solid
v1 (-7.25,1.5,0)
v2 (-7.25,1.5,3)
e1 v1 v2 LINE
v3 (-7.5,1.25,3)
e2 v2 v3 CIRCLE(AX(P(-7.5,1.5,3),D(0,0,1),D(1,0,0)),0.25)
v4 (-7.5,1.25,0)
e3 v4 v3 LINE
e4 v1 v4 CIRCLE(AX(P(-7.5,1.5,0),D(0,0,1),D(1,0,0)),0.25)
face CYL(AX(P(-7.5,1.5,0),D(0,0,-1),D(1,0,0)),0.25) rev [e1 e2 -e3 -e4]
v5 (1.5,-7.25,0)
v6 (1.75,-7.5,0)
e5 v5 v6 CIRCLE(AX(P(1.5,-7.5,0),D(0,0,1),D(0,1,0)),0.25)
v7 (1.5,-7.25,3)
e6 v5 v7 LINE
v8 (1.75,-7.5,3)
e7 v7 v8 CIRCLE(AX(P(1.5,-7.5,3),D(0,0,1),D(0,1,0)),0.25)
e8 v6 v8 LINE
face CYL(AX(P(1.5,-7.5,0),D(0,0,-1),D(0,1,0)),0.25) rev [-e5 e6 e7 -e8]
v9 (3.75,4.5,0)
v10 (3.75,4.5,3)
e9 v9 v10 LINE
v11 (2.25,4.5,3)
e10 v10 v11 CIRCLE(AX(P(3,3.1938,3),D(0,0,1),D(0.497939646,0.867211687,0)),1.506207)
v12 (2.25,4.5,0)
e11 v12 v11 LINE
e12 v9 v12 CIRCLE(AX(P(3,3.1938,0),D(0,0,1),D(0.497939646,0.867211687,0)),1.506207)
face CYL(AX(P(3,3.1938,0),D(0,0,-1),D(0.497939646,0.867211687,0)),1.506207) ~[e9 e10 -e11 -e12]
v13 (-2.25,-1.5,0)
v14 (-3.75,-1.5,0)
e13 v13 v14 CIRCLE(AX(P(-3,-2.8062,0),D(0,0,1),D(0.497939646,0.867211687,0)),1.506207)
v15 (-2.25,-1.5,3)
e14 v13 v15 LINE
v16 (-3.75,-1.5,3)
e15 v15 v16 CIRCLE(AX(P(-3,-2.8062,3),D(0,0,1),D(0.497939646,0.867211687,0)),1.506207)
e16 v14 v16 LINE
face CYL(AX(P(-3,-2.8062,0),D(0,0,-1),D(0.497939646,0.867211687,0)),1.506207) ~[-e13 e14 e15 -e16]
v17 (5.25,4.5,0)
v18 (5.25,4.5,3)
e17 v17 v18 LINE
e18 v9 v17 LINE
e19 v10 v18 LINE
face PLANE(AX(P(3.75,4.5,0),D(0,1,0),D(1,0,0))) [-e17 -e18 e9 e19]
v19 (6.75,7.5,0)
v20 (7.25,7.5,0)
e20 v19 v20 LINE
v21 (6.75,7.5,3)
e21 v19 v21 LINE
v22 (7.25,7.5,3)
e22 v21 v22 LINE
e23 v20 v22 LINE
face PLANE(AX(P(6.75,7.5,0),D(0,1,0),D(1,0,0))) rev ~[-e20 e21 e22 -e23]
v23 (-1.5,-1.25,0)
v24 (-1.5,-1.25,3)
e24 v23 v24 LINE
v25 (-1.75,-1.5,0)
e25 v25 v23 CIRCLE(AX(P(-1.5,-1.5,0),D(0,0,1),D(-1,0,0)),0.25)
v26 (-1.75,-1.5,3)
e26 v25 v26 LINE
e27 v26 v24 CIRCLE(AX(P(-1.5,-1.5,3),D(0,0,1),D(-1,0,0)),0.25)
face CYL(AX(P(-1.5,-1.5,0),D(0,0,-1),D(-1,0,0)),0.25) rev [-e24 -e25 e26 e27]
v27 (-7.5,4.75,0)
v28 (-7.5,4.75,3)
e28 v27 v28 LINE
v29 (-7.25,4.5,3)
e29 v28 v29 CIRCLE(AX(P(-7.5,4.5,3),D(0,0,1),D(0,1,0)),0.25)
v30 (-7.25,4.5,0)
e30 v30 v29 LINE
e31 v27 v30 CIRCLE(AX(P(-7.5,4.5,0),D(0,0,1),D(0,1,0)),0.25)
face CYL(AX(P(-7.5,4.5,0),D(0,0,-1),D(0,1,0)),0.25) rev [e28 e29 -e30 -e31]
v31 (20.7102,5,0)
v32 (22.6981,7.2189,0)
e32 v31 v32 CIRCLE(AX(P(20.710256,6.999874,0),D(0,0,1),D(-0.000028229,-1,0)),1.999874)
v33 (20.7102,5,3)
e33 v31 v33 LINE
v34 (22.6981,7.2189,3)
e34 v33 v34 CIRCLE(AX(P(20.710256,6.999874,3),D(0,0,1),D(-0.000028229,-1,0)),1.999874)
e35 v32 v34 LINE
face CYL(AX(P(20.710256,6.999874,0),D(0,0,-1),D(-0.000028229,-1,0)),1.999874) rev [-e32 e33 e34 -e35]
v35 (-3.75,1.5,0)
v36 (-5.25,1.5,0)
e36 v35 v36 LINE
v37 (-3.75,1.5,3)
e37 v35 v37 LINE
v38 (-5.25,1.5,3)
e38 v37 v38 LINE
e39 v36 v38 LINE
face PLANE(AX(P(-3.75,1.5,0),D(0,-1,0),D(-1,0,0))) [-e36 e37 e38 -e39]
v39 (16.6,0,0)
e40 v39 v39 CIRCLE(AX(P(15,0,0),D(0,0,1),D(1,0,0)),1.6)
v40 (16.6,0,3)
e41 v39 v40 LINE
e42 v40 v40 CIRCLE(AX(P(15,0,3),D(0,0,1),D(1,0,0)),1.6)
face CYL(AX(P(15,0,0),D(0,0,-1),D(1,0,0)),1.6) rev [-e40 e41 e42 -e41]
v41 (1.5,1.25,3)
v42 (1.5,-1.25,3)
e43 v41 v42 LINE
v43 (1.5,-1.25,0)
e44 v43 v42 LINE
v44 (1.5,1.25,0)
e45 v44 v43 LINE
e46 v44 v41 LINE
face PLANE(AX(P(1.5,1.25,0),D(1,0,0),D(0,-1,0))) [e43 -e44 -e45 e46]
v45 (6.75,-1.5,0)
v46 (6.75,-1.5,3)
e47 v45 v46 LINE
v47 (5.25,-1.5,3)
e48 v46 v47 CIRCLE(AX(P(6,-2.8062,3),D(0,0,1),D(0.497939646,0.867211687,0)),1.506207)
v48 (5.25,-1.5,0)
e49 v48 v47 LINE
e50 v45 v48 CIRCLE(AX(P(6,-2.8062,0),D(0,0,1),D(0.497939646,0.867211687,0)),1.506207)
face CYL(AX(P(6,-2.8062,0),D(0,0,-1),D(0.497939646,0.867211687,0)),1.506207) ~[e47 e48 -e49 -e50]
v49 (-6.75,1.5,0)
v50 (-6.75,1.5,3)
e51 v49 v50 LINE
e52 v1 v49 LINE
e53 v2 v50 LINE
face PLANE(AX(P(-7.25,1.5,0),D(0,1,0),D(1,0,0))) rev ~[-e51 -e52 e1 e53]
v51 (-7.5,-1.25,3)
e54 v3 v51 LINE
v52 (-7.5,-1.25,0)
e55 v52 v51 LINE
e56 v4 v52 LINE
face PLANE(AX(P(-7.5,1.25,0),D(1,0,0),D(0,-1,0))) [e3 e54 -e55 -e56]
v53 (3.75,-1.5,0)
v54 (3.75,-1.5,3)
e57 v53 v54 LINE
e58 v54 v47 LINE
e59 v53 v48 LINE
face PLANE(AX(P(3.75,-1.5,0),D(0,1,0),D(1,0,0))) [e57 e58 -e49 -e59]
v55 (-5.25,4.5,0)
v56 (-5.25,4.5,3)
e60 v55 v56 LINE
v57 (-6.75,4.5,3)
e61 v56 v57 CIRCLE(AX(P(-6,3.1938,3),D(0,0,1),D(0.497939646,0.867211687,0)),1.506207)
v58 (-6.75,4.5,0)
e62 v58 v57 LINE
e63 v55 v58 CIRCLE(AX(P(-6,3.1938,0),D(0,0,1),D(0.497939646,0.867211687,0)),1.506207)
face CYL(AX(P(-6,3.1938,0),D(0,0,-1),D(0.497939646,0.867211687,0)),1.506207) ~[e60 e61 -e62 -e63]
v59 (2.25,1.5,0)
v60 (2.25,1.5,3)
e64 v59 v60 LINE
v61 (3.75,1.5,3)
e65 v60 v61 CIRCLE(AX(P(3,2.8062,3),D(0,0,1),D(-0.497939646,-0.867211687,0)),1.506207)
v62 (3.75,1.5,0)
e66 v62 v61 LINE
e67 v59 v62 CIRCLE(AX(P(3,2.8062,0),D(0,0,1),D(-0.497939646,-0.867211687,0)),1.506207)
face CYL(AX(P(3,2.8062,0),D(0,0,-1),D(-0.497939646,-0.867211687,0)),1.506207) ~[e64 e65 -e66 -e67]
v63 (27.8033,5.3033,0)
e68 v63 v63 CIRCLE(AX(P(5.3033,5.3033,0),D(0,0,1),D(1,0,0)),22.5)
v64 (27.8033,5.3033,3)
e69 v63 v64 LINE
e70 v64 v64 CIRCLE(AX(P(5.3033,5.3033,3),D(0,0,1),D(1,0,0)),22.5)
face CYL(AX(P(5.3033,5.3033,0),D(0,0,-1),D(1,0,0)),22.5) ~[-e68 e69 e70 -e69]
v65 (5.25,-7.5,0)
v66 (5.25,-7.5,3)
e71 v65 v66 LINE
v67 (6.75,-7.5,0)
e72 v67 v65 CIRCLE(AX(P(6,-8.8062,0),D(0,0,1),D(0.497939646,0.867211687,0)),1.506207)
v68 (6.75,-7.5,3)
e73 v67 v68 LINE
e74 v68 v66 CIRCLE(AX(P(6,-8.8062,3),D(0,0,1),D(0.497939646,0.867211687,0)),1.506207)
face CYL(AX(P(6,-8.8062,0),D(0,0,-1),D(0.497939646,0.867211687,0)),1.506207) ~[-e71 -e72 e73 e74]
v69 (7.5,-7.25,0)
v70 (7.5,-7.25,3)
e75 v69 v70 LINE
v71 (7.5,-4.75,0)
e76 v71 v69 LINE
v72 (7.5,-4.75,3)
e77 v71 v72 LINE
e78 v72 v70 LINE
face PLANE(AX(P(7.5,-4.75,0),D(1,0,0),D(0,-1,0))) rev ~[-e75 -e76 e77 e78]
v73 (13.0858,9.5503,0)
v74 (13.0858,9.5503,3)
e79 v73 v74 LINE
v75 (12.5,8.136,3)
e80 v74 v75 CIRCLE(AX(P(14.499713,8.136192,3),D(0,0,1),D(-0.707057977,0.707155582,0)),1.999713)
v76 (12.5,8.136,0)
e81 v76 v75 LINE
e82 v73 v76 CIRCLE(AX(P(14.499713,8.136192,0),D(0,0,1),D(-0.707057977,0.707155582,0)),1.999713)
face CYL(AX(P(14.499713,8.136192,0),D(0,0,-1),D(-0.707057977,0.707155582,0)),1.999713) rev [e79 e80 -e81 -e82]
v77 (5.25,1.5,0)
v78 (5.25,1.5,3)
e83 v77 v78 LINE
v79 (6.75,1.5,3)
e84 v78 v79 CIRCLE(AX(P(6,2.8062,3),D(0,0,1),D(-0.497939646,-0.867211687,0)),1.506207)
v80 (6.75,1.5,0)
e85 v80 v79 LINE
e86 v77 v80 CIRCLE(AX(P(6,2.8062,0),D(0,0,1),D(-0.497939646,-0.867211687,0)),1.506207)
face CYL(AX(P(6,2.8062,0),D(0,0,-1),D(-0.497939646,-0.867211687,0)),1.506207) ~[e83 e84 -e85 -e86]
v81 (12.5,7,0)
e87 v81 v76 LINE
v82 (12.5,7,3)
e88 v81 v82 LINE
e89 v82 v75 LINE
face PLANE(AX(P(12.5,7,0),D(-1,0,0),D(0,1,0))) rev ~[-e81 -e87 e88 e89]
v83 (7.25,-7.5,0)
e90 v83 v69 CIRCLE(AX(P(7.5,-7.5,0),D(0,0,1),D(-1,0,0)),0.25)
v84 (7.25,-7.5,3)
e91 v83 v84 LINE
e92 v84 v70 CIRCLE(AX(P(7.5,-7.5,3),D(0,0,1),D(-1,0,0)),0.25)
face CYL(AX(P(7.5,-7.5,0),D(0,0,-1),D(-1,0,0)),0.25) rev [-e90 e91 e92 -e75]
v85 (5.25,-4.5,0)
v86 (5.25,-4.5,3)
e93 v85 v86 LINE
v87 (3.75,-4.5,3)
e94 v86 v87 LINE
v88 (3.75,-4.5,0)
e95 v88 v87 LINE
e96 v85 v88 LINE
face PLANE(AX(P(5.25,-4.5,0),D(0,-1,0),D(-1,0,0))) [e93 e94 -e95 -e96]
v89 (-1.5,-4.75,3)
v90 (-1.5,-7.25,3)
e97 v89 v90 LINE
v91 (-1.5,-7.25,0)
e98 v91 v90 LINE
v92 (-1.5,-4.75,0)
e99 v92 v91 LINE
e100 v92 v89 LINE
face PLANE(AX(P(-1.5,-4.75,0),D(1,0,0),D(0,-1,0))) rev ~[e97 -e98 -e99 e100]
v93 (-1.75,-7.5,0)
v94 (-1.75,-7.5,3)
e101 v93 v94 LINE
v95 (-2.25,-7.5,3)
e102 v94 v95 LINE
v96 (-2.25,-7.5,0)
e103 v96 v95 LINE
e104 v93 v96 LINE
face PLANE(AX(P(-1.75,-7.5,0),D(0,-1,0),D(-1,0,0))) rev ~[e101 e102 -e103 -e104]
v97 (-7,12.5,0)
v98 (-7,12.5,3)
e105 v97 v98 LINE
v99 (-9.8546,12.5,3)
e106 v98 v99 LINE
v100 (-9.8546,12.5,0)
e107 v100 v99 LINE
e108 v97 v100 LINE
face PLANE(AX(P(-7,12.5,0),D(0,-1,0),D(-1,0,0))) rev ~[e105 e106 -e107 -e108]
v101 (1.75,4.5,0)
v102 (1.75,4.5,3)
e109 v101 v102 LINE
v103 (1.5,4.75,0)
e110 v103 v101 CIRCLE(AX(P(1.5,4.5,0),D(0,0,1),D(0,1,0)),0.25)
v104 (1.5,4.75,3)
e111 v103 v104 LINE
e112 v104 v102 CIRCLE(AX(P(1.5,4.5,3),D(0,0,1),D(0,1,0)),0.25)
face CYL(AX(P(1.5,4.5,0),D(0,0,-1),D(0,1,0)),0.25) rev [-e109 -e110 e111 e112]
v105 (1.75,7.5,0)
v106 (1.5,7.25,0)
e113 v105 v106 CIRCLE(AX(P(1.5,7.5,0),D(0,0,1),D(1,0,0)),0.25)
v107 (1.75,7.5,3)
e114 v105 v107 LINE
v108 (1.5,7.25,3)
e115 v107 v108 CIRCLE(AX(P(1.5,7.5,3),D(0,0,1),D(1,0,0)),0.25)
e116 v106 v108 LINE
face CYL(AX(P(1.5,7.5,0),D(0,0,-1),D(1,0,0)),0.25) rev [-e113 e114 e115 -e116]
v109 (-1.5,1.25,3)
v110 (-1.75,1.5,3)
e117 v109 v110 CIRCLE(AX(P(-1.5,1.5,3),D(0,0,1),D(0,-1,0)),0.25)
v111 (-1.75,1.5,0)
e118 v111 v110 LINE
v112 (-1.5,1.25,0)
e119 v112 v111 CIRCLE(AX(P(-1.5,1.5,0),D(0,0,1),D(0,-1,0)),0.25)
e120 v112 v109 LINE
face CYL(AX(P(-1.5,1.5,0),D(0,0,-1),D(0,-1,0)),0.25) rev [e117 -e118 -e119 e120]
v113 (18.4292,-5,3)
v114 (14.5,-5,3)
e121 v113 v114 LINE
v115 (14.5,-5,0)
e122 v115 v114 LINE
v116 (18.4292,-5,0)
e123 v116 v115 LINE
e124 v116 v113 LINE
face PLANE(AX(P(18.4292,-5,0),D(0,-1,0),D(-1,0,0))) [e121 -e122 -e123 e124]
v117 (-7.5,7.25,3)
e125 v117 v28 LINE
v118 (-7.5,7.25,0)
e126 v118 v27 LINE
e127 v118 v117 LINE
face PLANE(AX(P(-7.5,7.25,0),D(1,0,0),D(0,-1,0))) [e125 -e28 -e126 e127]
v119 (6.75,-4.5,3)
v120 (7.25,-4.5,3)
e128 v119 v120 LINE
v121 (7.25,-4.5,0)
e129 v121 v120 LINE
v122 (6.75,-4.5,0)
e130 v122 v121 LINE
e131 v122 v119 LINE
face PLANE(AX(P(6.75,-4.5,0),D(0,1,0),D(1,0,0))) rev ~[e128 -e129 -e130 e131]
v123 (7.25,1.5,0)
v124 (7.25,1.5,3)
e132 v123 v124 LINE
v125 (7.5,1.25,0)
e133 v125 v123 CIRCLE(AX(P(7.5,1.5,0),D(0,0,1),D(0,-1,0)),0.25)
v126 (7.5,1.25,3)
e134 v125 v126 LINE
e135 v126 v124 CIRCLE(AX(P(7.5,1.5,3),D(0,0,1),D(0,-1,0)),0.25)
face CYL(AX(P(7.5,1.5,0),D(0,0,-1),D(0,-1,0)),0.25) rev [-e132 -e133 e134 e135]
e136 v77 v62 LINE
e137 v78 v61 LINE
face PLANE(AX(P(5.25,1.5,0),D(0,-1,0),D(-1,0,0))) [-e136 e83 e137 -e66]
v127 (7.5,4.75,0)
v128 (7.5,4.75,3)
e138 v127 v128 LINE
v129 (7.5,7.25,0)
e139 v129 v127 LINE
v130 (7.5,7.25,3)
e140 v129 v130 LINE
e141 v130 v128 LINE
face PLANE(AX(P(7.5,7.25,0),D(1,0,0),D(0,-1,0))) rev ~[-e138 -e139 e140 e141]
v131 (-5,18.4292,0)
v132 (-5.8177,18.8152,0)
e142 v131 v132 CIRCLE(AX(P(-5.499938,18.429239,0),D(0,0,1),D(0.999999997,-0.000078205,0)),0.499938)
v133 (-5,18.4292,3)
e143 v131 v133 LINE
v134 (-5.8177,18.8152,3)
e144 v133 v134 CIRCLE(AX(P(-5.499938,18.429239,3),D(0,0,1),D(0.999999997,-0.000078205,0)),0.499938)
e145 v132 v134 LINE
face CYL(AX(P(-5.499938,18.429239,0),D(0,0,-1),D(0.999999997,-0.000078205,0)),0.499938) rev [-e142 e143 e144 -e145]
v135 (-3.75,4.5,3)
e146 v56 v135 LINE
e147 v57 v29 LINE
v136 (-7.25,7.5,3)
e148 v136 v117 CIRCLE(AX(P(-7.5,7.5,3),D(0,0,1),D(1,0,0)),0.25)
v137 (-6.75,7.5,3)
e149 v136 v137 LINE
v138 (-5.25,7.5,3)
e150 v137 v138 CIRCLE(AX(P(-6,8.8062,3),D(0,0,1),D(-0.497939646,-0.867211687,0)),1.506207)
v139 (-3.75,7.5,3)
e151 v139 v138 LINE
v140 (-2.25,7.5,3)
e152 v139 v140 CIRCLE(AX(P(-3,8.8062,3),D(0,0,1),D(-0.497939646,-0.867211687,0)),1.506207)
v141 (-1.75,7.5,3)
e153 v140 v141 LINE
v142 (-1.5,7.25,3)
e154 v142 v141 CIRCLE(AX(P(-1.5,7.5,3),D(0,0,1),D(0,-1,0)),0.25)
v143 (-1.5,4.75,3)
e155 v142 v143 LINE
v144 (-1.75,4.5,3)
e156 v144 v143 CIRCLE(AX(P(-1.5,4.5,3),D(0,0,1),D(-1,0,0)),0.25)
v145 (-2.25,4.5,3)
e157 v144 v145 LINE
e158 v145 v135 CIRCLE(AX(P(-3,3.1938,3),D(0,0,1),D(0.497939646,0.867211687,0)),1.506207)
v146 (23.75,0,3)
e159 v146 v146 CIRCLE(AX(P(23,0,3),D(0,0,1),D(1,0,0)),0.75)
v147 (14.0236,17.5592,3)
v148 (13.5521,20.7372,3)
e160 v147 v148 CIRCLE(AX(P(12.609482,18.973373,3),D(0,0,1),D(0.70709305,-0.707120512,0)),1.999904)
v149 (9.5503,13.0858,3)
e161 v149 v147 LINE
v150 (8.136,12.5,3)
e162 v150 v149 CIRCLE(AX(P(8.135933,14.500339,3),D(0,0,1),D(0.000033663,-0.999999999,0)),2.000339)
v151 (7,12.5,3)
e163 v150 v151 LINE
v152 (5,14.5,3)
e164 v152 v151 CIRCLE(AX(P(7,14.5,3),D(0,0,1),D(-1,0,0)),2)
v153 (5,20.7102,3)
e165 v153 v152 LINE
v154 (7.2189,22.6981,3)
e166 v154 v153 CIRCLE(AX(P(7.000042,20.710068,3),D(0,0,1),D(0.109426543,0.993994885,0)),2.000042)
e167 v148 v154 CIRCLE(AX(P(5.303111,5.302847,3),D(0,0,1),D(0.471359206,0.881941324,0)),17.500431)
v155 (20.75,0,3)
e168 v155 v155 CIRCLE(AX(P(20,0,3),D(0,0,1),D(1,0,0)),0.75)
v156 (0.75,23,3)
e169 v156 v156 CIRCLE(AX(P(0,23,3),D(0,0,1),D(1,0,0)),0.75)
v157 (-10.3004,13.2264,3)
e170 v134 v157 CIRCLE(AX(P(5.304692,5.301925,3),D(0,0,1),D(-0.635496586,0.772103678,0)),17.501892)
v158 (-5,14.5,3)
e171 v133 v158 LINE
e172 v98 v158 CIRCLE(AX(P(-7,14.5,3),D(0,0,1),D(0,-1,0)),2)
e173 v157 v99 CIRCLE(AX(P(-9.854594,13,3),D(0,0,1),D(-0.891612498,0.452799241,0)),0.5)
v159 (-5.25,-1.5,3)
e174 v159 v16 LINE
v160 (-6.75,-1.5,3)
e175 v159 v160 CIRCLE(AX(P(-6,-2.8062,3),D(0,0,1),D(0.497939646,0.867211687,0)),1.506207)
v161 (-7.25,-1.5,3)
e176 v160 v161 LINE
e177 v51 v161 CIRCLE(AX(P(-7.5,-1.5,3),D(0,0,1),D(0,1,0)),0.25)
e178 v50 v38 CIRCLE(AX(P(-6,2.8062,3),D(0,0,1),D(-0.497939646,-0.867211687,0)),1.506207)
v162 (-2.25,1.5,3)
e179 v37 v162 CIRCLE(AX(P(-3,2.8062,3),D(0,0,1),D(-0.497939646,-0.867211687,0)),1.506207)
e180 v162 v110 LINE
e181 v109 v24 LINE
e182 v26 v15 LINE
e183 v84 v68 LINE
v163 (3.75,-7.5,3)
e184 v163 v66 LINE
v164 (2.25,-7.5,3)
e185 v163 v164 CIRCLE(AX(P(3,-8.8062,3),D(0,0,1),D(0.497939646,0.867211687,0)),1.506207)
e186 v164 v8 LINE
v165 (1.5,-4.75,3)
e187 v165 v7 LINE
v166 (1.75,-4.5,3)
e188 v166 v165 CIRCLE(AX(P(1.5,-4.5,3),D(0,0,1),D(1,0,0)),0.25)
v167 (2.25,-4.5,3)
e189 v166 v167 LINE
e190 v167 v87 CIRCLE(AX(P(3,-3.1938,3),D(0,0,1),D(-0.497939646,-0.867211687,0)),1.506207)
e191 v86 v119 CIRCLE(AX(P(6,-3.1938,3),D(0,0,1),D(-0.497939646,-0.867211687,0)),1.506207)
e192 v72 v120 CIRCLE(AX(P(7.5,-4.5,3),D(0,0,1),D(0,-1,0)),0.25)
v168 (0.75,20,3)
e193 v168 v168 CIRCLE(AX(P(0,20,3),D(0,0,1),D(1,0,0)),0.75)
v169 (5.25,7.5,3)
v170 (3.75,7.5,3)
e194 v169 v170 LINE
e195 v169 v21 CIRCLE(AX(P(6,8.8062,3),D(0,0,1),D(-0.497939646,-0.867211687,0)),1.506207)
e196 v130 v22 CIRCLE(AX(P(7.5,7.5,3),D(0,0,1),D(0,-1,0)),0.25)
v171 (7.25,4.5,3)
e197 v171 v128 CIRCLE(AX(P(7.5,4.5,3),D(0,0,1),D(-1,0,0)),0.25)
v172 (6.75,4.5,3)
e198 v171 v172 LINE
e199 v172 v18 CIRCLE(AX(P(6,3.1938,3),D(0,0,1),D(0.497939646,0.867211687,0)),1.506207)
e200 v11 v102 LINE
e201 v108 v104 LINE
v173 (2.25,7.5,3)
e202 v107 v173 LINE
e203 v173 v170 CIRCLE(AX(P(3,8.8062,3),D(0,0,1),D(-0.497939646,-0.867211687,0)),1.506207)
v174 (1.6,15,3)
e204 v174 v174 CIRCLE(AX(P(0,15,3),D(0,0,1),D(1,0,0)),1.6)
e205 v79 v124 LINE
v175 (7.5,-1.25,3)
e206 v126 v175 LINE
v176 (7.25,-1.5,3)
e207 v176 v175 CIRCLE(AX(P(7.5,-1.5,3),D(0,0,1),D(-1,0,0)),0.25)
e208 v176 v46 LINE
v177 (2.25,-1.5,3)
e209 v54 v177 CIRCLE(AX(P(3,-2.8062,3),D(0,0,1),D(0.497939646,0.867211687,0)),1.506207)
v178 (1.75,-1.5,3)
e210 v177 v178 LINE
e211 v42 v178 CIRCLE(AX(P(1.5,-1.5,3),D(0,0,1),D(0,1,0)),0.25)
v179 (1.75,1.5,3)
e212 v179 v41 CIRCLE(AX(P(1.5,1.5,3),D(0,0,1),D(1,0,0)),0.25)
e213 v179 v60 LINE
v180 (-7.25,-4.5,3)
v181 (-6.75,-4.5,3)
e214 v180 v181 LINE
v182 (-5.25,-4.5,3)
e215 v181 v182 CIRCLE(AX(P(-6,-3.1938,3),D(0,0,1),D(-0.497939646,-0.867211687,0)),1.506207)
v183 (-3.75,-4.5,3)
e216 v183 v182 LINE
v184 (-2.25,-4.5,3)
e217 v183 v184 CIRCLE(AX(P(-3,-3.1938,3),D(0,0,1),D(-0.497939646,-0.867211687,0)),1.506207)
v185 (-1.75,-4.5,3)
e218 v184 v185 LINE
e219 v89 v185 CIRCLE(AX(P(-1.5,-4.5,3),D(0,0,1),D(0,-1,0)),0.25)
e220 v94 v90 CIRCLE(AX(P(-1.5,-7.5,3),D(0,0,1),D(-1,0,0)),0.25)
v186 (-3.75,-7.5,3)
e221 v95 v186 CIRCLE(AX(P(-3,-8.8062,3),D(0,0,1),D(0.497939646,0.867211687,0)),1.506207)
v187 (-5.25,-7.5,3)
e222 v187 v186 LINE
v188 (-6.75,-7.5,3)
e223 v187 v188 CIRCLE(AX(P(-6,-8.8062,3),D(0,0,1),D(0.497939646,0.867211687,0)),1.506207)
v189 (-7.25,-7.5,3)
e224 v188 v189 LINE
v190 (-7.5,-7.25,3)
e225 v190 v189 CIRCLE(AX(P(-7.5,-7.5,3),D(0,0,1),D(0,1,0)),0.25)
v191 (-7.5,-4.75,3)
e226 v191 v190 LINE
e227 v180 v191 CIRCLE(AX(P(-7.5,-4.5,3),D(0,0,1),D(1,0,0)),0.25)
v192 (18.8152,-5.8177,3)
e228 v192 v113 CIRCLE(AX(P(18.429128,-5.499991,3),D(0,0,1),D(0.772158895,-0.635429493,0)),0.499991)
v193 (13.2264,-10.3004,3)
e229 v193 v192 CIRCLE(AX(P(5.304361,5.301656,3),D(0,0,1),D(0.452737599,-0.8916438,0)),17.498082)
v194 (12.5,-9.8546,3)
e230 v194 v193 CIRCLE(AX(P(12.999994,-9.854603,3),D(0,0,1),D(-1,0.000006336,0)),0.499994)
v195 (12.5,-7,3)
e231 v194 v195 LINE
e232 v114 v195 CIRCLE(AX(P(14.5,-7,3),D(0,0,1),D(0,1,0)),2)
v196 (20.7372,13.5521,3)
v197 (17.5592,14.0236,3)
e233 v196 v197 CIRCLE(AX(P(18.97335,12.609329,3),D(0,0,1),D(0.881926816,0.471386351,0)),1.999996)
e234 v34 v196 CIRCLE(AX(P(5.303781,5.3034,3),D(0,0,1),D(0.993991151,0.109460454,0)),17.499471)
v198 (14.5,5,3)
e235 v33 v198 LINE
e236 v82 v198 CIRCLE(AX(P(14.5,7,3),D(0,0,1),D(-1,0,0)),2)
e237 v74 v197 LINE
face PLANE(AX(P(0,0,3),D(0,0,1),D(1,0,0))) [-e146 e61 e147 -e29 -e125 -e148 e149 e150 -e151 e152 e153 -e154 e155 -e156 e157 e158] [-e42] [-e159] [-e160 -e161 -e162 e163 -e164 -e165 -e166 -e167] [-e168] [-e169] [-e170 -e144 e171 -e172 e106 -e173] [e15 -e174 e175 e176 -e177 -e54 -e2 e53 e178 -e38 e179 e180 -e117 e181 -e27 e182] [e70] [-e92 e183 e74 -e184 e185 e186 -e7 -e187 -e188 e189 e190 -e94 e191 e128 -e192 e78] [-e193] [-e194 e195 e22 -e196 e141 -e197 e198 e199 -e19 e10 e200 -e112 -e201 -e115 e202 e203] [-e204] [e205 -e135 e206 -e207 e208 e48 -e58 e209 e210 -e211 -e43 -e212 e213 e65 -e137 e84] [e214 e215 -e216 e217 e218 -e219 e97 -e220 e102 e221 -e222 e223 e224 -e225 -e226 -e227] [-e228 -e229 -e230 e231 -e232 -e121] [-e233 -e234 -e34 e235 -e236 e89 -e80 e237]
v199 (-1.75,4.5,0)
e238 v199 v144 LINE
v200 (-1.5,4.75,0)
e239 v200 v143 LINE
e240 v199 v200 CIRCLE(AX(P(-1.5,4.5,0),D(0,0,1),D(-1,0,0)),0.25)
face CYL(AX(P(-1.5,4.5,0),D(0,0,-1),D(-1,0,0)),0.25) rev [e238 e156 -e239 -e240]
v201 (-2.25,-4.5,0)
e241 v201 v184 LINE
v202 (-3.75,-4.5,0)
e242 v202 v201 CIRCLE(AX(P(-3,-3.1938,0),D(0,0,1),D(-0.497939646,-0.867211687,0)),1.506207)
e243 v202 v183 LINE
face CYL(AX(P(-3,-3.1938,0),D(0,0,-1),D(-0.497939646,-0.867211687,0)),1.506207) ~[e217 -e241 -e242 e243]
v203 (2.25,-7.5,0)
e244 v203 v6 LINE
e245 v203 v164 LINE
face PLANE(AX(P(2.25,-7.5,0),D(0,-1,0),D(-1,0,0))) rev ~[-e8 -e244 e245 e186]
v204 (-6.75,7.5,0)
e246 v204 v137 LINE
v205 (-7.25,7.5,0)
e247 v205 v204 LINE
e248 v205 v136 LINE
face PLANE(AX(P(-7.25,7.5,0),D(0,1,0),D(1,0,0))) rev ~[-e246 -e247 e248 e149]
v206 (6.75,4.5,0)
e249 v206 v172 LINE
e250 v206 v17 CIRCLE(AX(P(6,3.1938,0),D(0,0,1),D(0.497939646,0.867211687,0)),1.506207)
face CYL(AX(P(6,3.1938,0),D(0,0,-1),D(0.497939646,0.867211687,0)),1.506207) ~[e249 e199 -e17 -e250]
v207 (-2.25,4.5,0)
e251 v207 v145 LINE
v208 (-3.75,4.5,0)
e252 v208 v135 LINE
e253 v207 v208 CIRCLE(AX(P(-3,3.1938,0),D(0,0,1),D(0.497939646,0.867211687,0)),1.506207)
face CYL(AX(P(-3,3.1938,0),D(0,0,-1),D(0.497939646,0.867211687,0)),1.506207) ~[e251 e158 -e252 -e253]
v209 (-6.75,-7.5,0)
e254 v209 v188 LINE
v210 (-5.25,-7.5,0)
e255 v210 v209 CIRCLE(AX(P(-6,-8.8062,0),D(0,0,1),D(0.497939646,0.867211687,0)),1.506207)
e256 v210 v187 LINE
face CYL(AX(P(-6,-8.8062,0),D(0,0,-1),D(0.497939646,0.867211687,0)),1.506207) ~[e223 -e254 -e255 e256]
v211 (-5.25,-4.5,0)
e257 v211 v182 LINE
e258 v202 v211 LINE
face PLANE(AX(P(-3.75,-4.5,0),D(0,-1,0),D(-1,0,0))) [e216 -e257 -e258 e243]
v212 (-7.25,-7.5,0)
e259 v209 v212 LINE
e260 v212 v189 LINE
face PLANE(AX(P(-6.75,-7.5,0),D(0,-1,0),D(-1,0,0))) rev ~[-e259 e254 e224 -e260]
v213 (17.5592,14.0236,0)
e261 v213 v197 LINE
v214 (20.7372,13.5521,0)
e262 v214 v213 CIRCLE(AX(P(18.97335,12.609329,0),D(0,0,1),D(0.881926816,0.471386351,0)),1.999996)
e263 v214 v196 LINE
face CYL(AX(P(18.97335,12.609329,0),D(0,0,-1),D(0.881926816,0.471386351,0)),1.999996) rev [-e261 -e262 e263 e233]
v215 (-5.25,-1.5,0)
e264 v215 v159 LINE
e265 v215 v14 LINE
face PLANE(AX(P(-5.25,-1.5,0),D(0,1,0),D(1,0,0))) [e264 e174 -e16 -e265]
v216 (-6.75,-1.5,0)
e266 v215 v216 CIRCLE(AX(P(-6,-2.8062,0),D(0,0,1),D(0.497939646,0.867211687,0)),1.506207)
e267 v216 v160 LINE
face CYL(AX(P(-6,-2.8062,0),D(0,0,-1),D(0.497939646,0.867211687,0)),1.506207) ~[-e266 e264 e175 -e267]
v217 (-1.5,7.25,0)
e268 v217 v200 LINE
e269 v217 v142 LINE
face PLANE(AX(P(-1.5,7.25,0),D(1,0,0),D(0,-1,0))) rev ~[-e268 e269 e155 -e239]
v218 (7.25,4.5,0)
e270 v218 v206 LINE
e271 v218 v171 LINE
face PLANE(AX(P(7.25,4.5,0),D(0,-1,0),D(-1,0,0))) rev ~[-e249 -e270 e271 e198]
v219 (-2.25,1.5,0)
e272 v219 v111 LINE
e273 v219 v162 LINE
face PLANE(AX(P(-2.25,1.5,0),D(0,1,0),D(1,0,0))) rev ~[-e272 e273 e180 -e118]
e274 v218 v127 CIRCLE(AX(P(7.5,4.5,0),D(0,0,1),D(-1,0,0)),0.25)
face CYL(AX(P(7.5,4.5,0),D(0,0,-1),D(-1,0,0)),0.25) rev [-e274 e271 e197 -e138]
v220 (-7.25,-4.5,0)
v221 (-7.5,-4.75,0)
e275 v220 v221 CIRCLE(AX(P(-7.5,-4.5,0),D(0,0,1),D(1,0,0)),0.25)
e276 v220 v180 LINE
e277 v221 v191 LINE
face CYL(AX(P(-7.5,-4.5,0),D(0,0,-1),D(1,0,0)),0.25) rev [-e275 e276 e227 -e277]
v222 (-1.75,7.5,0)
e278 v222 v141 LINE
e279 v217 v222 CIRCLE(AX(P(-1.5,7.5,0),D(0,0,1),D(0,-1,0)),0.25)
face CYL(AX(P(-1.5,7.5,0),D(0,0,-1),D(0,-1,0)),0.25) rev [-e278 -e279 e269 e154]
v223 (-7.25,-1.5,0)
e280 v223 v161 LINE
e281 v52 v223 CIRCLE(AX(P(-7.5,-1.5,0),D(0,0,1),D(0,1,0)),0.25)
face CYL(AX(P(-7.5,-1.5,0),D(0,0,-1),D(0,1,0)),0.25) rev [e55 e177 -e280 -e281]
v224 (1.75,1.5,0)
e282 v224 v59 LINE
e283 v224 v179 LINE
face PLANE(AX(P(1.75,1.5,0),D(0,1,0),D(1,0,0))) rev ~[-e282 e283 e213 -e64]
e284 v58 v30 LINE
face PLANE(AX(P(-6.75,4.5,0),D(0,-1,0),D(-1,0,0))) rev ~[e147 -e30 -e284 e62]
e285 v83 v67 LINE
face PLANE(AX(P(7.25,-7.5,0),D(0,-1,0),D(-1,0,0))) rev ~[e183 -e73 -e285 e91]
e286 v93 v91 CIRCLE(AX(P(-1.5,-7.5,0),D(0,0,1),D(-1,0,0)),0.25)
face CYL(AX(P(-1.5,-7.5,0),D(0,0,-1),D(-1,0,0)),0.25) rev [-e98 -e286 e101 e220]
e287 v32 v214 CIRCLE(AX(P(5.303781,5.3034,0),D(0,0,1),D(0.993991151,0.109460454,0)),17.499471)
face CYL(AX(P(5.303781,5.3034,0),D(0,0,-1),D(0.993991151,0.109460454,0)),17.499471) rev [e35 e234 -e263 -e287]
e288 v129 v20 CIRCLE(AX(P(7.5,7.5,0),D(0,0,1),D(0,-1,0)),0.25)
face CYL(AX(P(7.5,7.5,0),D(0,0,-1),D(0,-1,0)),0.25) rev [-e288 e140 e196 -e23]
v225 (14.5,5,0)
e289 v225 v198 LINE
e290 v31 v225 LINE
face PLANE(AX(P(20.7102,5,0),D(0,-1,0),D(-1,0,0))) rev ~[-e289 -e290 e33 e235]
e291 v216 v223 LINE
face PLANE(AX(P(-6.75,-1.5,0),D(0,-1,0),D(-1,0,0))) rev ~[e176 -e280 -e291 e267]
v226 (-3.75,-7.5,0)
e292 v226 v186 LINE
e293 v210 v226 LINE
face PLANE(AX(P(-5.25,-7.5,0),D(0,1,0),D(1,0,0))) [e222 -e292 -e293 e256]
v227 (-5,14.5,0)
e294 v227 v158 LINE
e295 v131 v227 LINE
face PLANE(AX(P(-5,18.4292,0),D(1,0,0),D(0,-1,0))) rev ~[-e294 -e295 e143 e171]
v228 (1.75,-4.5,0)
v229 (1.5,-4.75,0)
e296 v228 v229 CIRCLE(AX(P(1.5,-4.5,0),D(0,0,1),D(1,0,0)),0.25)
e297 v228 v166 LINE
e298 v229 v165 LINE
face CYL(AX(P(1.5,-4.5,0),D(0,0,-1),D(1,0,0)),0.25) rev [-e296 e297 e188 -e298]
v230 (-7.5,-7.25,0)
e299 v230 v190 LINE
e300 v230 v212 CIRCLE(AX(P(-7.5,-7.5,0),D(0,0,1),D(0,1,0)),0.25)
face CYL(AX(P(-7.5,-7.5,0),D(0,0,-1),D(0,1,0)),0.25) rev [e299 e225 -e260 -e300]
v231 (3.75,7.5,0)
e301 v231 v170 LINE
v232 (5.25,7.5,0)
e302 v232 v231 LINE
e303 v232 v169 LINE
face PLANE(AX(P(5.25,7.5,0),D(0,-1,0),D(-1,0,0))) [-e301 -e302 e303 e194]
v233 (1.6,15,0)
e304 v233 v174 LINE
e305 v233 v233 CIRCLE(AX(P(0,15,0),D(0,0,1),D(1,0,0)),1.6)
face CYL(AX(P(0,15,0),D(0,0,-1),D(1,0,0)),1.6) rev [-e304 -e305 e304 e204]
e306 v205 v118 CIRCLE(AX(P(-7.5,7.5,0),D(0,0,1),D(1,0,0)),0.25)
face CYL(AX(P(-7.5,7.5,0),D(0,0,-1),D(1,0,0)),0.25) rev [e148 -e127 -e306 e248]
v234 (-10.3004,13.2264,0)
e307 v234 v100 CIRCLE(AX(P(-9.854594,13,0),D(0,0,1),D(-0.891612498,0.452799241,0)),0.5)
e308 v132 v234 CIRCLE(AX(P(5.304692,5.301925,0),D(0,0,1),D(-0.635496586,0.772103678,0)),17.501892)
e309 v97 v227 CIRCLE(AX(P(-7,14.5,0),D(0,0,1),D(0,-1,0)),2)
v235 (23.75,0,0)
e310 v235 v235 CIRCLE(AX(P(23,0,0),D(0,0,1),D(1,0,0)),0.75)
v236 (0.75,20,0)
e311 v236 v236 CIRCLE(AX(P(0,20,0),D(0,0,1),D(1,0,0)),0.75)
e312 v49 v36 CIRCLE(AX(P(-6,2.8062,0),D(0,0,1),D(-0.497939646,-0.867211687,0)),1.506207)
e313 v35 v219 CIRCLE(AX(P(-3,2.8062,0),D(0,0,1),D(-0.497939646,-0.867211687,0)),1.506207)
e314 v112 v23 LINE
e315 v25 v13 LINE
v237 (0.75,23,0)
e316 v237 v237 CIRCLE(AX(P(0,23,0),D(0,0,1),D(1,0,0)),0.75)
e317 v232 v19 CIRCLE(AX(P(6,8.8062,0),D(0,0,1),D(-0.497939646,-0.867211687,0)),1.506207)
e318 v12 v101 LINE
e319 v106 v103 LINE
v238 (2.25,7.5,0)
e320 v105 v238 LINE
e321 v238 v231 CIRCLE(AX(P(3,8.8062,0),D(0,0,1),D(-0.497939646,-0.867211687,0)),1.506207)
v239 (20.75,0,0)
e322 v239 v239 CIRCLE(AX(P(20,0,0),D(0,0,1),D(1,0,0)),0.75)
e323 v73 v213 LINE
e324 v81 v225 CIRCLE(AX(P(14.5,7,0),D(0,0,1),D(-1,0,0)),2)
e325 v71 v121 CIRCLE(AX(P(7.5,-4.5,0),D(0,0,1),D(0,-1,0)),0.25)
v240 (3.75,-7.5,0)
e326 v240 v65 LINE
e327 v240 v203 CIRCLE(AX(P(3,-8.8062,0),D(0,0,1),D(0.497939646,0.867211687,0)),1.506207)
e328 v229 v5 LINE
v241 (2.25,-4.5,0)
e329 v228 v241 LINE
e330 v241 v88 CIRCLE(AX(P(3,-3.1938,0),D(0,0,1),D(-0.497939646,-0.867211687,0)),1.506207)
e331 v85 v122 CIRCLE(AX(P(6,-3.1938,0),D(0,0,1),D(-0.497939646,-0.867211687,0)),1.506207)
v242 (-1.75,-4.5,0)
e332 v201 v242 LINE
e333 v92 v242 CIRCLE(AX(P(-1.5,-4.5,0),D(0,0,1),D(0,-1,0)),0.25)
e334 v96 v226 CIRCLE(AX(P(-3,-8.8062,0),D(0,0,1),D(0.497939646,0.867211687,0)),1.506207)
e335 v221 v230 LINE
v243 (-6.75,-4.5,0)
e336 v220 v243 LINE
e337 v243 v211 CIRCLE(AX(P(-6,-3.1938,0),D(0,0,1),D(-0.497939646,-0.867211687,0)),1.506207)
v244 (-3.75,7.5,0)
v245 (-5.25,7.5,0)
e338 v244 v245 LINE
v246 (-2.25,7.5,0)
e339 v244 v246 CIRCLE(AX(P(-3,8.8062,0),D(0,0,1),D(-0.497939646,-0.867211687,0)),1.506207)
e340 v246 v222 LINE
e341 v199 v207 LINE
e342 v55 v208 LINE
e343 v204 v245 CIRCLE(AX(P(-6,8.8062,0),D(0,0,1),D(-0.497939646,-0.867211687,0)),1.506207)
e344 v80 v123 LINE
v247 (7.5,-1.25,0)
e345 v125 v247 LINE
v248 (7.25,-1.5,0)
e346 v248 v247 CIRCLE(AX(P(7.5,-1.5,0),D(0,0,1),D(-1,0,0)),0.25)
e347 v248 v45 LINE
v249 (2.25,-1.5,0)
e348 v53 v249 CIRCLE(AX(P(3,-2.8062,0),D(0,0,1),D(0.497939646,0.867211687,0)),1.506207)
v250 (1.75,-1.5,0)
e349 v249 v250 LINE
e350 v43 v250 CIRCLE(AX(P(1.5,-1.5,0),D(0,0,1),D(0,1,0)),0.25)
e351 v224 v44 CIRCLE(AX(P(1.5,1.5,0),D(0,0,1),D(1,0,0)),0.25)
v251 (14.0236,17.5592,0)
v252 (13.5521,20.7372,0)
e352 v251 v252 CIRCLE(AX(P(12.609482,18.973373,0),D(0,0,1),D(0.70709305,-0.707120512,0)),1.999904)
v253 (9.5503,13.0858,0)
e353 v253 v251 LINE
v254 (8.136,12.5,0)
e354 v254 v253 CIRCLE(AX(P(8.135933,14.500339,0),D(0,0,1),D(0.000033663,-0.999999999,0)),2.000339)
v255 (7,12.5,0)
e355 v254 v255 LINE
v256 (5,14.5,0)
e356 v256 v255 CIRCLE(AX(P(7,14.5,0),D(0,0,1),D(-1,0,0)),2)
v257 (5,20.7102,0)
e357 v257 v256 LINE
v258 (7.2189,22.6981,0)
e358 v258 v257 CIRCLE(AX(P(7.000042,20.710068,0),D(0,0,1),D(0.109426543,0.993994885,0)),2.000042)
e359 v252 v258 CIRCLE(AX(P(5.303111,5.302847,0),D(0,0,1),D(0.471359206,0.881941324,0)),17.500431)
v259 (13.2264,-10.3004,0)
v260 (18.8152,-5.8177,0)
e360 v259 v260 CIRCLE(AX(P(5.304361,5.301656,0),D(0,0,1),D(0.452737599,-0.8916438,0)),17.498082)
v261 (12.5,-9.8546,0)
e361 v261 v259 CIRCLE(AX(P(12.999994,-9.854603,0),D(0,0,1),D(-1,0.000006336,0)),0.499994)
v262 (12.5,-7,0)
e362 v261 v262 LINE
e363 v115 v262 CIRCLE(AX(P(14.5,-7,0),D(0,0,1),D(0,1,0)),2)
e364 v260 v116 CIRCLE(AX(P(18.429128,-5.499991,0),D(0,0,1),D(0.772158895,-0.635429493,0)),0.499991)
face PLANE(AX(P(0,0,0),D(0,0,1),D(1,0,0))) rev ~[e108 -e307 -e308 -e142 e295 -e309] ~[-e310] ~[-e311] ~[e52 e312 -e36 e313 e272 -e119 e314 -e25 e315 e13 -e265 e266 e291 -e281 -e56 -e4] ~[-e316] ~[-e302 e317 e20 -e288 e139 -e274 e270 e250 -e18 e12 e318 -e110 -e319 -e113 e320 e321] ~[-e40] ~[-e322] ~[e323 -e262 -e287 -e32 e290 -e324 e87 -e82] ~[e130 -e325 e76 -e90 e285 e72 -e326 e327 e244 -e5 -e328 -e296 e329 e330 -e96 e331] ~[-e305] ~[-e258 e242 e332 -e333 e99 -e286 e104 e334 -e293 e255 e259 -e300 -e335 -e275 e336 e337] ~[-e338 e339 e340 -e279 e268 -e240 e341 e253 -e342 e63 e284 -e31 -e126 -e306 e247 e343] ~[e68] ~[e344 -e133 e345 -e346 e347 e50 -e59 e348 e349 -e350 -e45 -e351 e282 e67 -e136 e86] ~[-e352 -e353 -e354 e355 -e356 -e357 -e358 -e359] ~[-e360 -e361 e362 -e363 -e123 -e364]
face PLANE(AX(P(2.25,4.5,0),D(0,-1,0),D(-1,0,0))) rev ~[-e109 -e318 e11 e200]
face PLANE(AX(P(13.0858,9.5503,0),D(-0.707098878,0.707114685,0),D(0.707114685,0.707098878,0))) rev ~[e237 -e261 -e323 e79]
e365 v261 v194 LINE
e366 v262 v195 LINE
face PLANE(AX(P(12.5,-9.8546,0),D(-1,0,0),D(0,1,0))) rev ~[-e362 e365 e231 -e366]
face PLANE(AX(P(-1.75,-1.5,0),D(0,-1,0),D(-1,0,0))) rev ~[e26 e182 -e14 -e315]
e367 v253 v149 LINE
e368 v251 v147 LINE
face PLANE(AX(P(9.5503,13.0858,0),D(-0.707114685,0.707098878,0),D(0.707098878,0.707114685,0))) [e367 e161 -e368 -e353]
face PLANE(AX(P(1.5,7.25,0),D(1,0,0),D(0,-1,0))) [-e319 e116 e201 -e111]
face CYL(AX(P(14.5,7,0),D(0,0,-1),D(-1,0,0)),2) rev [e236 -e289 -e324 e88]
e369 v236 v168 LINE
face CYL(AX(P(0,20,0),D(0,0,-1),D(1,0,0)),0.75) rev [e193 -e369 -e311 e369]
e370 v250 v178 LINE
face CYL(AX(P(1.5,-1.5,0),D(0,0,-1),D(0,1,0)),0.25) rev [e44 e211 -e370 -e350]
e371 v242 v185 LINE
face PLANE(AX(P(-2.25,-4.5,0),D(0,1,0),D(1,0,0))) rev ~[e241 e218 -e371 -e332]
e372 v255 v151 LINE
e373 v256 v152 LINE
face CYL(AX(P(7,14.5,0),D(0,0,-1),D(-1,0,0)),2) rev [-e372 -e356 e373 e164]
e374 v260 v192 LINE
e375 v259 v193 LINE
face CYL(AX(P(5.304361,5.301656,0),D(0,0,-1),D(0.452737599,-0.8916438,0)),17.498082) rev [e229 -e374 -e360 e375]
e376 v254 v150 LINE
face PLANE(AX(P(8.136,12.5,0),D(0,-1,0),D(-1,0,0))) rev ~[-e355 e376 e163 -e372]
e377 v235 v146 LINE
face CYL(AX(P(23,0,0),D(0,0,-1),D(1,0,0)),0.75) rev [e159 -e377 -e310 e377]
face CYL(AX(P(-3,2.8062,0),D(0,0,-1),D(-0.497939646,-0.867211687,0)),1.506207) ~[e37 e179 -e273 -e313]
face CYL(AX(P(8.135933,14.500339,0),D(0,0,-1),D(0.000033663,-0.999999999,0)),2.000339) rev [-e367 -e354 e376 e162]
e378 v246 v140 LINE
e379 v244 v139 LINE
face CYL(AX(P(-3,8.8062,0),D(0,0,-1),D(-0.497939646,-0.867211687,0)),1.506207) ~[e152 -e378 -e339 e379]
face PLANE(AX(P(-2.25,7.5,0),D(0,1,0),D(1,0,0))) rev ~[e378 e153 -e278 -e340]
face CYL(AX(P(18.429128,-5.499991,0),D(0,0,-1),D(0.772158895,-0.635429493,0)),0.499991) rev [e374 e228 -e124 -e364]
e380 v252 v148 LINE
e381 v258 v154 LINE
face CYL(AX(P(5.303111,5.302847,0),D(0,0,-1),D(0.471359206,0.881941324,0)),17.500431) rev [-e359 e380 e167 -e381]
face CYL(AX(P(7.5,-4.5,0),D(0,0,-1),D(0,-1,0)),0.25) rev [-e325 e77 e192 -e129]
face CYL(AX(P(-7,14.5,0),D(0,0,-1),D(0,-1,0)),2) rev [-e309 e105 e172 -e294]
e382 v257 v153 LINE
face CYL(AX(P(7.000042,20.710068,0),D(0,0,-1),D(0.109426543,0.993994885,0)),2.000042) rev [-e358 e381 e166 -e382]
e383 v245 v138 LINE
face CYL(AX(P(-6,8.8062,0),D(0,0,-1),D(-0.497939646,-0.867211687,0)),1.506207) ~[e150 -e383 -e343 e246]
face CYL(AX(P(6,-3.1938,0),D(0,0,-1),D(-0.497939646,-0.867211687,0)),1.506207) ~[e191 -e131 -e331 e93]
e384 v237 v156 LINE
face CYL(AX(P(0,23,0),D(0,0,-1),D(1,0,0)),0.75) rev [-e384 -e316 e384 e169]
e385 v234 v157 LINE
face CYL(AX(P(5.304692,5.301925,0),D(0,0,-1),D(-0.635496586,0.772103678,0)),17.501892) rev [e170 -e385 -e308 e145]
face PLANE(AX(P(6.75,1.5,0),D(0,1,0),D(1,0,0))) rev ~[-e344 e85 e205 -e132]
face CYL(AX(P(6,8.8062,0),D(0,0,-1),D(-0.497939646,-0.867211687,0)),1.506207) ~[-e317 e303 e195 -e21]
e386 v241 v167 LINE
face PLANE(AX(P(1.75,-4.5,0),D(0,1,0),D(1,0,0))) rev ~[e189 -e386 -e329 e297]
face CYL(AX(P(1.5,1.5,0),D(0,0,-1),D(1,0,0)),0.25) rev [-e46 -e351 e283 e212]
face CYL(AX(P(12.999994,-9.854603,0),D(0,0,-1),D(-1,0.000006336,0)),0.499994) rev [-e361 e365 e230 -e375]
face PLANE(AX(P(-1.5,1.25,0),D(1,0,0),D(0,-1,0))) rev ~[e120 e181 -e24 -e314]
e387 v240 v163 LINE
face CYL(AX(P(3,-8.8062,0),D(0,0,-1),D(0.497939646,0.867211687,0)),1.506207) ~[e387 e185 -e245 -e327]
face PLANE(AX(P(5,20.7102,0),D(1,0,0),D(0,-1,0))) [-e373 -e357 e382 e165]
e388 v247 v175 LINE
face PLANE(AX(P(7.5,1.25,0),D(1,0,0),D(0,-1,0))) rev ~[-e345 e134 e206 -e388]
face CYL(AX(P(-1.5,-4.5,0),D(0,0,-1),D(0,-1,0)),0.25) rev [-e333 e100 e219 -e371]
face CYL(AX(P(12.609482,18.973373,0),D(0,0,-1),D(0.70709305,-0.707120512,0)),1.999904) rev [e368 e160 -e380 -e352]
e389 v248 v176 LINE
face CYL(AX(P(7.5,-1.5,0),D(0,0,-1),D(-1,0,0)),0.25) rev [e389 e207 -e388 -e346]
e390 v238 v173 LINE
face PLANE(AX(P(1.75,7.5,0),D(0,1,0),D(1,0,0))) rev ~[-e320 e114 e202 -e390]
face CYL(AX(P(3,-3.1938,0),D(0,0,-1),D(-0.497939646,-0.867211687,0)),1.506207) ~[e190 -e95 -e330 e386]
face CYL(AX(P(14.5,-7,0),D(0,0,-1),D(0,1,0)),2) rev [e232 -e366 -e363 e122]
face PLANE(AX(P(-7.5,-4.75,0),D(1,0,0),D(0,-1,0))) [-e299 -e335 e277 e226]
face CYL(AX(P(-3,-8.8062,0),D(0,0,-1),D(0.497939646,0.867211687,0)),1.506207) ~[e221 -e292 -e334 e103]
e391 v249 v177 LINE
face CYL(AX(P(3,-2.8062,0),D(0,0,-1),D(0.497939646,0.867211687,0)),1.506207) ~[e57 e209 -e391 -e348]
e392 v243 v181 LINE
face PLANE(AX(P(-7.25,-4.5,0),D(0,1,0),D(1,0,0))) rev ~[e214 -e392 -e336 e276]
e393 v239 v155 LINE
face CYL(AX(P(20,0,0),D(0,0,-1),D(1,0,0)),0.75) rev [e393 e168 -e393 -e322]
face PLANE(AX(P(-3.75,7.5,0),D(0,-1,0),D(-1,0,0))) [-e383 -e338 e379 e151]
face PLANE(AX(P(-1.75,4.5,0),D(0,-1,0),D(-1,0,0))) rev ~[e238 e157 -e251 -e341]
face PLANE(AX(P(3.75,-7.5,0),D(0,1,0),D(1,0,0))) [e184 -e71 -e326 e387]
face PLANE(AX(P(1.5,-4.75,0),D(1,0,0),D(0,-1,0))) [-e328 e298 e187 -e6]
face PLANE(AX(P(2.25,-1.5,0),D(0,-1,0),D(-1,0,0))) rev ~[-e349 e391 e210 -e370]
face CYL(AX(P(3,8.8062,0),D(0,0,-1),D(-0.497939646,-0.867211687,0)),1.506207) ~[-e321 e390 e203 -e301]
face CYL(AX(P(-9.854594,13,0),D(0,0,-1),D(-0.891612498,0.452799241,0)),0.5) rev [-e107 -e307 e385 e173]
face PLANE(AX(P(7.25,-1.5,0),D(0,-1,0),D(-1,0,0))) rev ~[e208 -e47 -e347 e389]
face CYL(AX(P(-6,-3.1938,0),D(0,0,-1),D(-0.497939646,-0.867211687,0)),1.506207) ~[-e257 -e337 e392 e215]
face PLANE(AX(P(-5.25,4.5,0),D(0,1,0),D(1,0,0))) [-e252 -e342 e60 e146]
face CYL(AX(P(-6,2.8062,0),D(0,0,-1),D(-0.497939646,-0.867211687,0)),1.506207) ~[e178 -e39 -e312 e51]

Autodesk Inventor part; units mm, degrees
ref_plane "YZ Plane" through (0, 0, 0) normal (1, 0, 0) x (0, 1, 0)
ref_plane "XZ Plane" through (0, 0, 0) normal (0, 1, 0) x (-1, 0, 0)
ref_plane "XY Plane" through (0, 0, 0) normal (0, 0, 1) x (1, 0, 0)
sketch "Sketch1" plane through (0, 0, 0) normal (0, 0, 1) x (1, 0, 0)
  circle A0 centre (0, 15) radius 1.6
  circle A1 centre (15, 0) radius 1.6
  circle A2 centre (5.3033, 5.3033) radius 22.5
  circle A3 centre (0, 20) radius 0.75
  circle A4 centre (20, 0) radius 0.75
  circle A5 centre (23, 0) radius 0.75
  circle A6 centre (0, 23) radius 0.75
  line L0 (5, 20.7102) -> (5, 14.5)
  line L1 (-5, 18.4292) -> (-5, 14.5)
  line L2 (20.7102, 5) -> (14.5, 5)
  line L3 (18.4292, -5) -> (14.5, -5)
  line L4 (9.5503, 13.0858) -> (14.0236, 17.5592)
  line L5 (13.0858, 9.5503) -> (17.5592, 14.0236)
  arc A7 (-5.8177, 18.8152) -> (-10.3004, 13.2264) centre (5.3033, 5.3033) ccw
  line L6 (8.136, 12.5) -> (7, 12.5)
  line L7 (-7, 12.5) -> (-9.8546, 12.5)
  line L8 (12.5, -9.8546) -> (12.5, -7)
  line L9 (12.5, 7) -> (12.5, 8.136)
  arc A8 (13.2264, -10.3004) -> (18.8152, -5.8177) centre (5.3033, 5.3033) ccw
  arc A9 (22.6981, 7.2189) -> (20.7372, 13.5521) centre (5.3033, 5.3033) ccw
  arc A10 (13.5521, 20.7372) -> (7.2189, 22.6981) centre (5.3033, 5.3033) ccw
  arc A11 (7.2189, 22.6981) -> (5, 20.7102) centre (7, 20.7102) ccw
  arc A12 (14.0236, 17.5592) -> (13.5521, 20.7372) centre (12.6094, 18.9734) ccw
  arc A13 (5, 14.5) -> (7, 12.5) centre (7, 14.5) ccw
  arc A14 (8.136, 12.5) -> (9.5503, 13.0858) centre (8.136, 14.5) ccw
  arc A15 (13.0858, 9.5503) -> (12.5, 8.136) centre (14.5, 8.136) ccw
  arc A16 (12.5, 7) -> (14.5, 5) centre (14.5, 7) ccw
  arc A17 (20.7102, 5) -> (22.6981, 7.2189) centre (20.7102, 7) ccw
  arc A18 (20.7372, 13.5521) -> (17.5592, 14.0236) centre (18.9734, 12.6094) ccw
  arc A19 (-7, 12.5) -> (-5, 14.5) centre (-7, 14.5) ccw
  arc A20 (14.5, -5) -> (12.5, -7) centre (14.5, -7) ccw
  arc A21 (18.8152, -5.8177) -> (18.4292, -5) centre (18.4292, -5.5) ccw
  arc A22 (12.5, -9.8546) -> (13.2264, -10.3004) centre (13, -9.8546) ccw
  arc A23 (-10.3004, 13.2264) -> (-9.8546, 12.5) centre (-9.8546, 13) ccw
  arc A24 (-5, 18.4292) -> (-5.8177, 18.8152) centre (-5.5, 18.4292) ccw
  arc A25 (-7.25, 7.5) -> (-7.5, 7.25) centre (-7.5, 7.5) ccw
  arc A26 (-6.75, 7.5) -> (-5.25, 7.5) centre (-6, 8.8062) ccw
  arc A27 (-1.5, 7.25) -> (-1.75, 7.5) centre (-1.5, 7.5) ccw
  arc A28 (-3.75, 7.5) -> (-2.25, 7.5) centre (-3, 8.8062) ccw
  arc A29 (-7.5, 4.75) -> (-7.25, 4.5) centre (-7.5, 4.5) ccw
  arc A30 (-5.25, 4.5) -> (-6.75, 4.5) centre (-6, 3.1938) ccw
  arc A31 (-2.25, 4.5) -> (-3.75, 4.5) centre (-3, 3.1938) ccw
  arc A32 (-1.75, 4.5) -> (-1.5, 4.75) centre (-1.5, 4.5) ccw
  line L10 (-1.5, 7.25) -> (-1.5, 4.75)
  line L11 (-1.75, 4.5) -> (-2.25, 4.5)
  line L12 (-2.25, 7.5) -> (-1.75, 7.5)
  line L13 (-3.75, 7.5) -> (-5.25, 7.5)
  line L14 (-5.25, 4.5) -> (-3.75, 4.5)
  line L15 (-7.25, 7.5) -> (-6.75, 7.5)
  line L16 (-7.5, 7.25) -> (-7.5, 4.75)
  line L17 (-6.75, 4.5) -> (-7.25, 4.5)
  arc A33 (1.75, 7.5) -> (1.5, 7.25) centre (1.5, 7.5) ccw
  arc A34 (2.25, 7.5) -> (3.75, 7.5) centre (3, 8.8062) ccw
  arc A35 (5.25, 7.5) -> (6.75, 7.5) centre (6, 8.8062) ccw
  arc A36 (7.5, 7.25) -> (7.25, 7.5) centre (7.5, 7.5) ccw
  arc A37 (6.75, 4.5) -> (5.25, 4.5) centre (6, 3.1938) ccw
  arc A38 (7.25, 4.5) -> (7.5, 4.75) centre (7.5, 4.5) ccw
  arc A39 (3.75, 4.5) -> (2.25, 4.5) centre (3, 3.1938) ccw
  arc A40 (1.5, 4.75) -> (1.75, 4.5) centre (1.5, 4.5) ccw
  line L18 (7.5, 7.25) -> (7.5, 4.75)
  line L19 (7.25, 4.5) -> (6.75, 4.5)
  line L20 (6.75, 7.5) -> (7.25, 7.5)
  line L21 (5.25, 7.5) -> (3.75, 7.5)
  line L22 (3.75, 4.5) -> (5.25, 4.5)
  line L23 (1.75, 7.5) -> (2.25, 7.5)
  line L24 (1.5, 7.25) -> (1.5, 4.75)
  line L25 (2.25, 4.5) -> (1.75, 4.5)
  arc A41 (-7.25, 1.5) -> (-7.5, 1.25) centre (-7.5, 1.5) ccw
  arc A42 (-6.75, 1.5) -> (-5.25, 1.5) centre (-6, 2.8062) ccw
  arc A43 (-3.75, 1.5) -> (-2.25, 1.5) centre (-3, 2.8062) ccw
  arc A44 (-1.5, 1.25) -> (-1.75, 1.5) centre (-1.5, 1.5) ccw
  arc A45 (-2.25, -1.5) -> (-3.75, -1.5) centre (-3, -2.8062) ccw
  arc A46 (-1.75, -1.5) -> (-1.5, -1.25) centre (-1.5, -1.5) ccw
  arc A47 (-5.25, -1.5) -> (-6.75, -1.5) centre (-6, -2.8062) ccw
  arc A48 (-7.5, -1.25) -> (-7.25, -1.5) centre (-7.5, -1.5) ccw
  line L26 (-1.5, 1.25) -> (-1.5, -1.25)
  line L27 (-1.75, -1.5) -> (-2.25, -1.5)
  line L28 (-2.25, 1.5) -> (-1.75, 1.5)
  line L29 (-3.75, 1.5) -> (-5.25, 1.5)
  line L30 (-5.25, -1.5) -> (-3.75, -1.5)
  line L31 (-7.25, 1.5) -> (-6.75, 1.5)
  line L32 (-7.5, 1.25) -> (-7.5, -1.25)
  line L33 (-6.75, -1.5) -> (-7.25, -1.5)
  arc A49 (1.75, 1.5) -> (1.5, 1.25) centre (1.5, 1.5) ccw
  arc A50 (2.25, 1.5) -> (3.75, 1.5) centre (3, 2.8062) ccw
  arc A51 (5.25, 1.5) -> (6.75, 1.5) centre (6, 2.8062) ccw
  arc A52 (7.5, 1.25) -> (7.25, 1.5) centre (7.5, 1.5) ccw
  arc A53 (6.75, -1.5) -> (5.25, -1.5) centre (6, -2.8062) ccw
  arc A54 (7.25, -1.5) -> (7.5, -1.25) centre (7.5, -1.5) ccw
  arc A55 (3.75, -1.5) -> (2.25, -1.5) centre (3, -2.8062) ccw
  arc A56 (1.5, -1.25) -> (1.75, -1.5) centre (1.5, -1.5) ccw
  line L34 (7.5, 1.25) -> (7.5, -1.25)
  line L35 (7.25, -1.5) -> (6.75, -1.5)
  line L36 (6.75, 1.5) -> (7.25, 1.5)
  line L37 (5.25, 1.5) -> (3.75, 1.5)
  line L38 (3.75, -1.5) -> (5.25, -1.5)
  line L39 (1.75, 1.5) -> (2.25, 1.5)
  line L40 (1.5, 1.25) -> (1.5, -1.25)
  line L41 (2.25, -1.5) -> (1.75, -1.5)
  arc A57 (-7.25, -4.5) -> (-7.5, -4.75) centre (-7.5, -4.5) ccw
  arc A58 (-6.75, -4.5) -> (-5.25, -4.5) centre (-6, -3.1938) ccw
  arc A59 (-3.75, -4.5) -> (-2.25, -4.5) centre (-3, -3.1938) ccw
  arc A60 (-1.5, -4.75) -> (-1.75, -4.5) centre (-1.5, -4.5) ccw
  arc A61 (-2.25, -7.5) -> (-3.75, -7.5) centre (-3, -8.8062) ccw
  arc A62 (-1.75, -7.5) -> (-1.5, -7.25) centre (-1.5, -7.5) ccw
  arc A63 (-5.25, -7.5) -> (-6.75, -7.5) centre (-6, -8.8062) ccw
  arc A64 (-7.5, -7.25) -> (-7.25, -7.5) centre (-7.5, -7.5) ccw
  line L42 (-1.5, -4.75) -> (-1.5, -7.25)
  line L43 (-1.75, -7.5) -> (-2.25, -7.5)
  line L44 (-2.25, -4.5) -> (-1.75, -4.5)
  line L45 (-3.75, -4.5) -> (-5.25, -4.5)
  line L46 (-5.25, -7.5) -> (-3.75, -7.5)
  line L47 (-7.25, -4.5) -> (-6.75, -4.5)
  line L48 (-7.5, -4.75) -> (-7.5, -7.25)
  line L49 (-6.75, -7.5) -> (-7.25, -7.5)
  arc A65 (1.75, -4.5) -> (1.5, -4.75) centre (1.5, -4.5) ccw
  arc A66 (2.25, -4.5) -> (3.75, -4.5) centre (3, -3.1938) ccw
  arc A67 (5.25, -4.5) -> (6.75, -4.5) centre (6, -3.1938) ccw
  arc A68 (7.5, -4.75) -> (7.25, -4.5) centre (7.5, -4.5) ccw
  arc A69 (6.75, -7.5) -> (5.25, -7.5) centre (6, -8.8062) ccw
  arc A70 (7.25, -7.5) -> (7.5, -7.25) centre (7.5, -7.5) ccw
  arc A71 (3.75, -7.5) -> (2.25, -7.5) centre (3, -8.8062) ccw
  arc A72 (1.5, -7.25) -> (1.75, -7.5) centre (1.5, -7.5) ccw
  line L50 (7.5, -4.75) -> (7.5, -7.25)
  line L51 (7.25, -7.5) -> (6.75, -7.5)
  line L52 (6.75, -4.5) -> (7.25, -4.5)
  line L53 (5.25, -4.5) -> (3.75, -4.5)
  line L54 (3.75, -7.5) -> (5.25, -7.5)
  line L55 (1.75, -4.5) -> (2.25, -4.5)
  line L56 (1.5, -4.75) -> (1.5, -7.25)
  line L57 (2.25, -7.5) -> (1.75, -7.5)
  point P0 (-10.6484, 12.5)
  point P1 (19.3185, 15.783)
  point P2 (12.5, -10.6484)
  point P3 (-5, 19.4487)
  point P4 (19.4487, -5)
  point P5 (22.8007, 5)
  point P6 (15.783, 19.3185)
  point P7 (5, 22.8007)
extrude "Extrusion1" add sketch "Sketch1" along normal blind 3
properties part number "Segment"
